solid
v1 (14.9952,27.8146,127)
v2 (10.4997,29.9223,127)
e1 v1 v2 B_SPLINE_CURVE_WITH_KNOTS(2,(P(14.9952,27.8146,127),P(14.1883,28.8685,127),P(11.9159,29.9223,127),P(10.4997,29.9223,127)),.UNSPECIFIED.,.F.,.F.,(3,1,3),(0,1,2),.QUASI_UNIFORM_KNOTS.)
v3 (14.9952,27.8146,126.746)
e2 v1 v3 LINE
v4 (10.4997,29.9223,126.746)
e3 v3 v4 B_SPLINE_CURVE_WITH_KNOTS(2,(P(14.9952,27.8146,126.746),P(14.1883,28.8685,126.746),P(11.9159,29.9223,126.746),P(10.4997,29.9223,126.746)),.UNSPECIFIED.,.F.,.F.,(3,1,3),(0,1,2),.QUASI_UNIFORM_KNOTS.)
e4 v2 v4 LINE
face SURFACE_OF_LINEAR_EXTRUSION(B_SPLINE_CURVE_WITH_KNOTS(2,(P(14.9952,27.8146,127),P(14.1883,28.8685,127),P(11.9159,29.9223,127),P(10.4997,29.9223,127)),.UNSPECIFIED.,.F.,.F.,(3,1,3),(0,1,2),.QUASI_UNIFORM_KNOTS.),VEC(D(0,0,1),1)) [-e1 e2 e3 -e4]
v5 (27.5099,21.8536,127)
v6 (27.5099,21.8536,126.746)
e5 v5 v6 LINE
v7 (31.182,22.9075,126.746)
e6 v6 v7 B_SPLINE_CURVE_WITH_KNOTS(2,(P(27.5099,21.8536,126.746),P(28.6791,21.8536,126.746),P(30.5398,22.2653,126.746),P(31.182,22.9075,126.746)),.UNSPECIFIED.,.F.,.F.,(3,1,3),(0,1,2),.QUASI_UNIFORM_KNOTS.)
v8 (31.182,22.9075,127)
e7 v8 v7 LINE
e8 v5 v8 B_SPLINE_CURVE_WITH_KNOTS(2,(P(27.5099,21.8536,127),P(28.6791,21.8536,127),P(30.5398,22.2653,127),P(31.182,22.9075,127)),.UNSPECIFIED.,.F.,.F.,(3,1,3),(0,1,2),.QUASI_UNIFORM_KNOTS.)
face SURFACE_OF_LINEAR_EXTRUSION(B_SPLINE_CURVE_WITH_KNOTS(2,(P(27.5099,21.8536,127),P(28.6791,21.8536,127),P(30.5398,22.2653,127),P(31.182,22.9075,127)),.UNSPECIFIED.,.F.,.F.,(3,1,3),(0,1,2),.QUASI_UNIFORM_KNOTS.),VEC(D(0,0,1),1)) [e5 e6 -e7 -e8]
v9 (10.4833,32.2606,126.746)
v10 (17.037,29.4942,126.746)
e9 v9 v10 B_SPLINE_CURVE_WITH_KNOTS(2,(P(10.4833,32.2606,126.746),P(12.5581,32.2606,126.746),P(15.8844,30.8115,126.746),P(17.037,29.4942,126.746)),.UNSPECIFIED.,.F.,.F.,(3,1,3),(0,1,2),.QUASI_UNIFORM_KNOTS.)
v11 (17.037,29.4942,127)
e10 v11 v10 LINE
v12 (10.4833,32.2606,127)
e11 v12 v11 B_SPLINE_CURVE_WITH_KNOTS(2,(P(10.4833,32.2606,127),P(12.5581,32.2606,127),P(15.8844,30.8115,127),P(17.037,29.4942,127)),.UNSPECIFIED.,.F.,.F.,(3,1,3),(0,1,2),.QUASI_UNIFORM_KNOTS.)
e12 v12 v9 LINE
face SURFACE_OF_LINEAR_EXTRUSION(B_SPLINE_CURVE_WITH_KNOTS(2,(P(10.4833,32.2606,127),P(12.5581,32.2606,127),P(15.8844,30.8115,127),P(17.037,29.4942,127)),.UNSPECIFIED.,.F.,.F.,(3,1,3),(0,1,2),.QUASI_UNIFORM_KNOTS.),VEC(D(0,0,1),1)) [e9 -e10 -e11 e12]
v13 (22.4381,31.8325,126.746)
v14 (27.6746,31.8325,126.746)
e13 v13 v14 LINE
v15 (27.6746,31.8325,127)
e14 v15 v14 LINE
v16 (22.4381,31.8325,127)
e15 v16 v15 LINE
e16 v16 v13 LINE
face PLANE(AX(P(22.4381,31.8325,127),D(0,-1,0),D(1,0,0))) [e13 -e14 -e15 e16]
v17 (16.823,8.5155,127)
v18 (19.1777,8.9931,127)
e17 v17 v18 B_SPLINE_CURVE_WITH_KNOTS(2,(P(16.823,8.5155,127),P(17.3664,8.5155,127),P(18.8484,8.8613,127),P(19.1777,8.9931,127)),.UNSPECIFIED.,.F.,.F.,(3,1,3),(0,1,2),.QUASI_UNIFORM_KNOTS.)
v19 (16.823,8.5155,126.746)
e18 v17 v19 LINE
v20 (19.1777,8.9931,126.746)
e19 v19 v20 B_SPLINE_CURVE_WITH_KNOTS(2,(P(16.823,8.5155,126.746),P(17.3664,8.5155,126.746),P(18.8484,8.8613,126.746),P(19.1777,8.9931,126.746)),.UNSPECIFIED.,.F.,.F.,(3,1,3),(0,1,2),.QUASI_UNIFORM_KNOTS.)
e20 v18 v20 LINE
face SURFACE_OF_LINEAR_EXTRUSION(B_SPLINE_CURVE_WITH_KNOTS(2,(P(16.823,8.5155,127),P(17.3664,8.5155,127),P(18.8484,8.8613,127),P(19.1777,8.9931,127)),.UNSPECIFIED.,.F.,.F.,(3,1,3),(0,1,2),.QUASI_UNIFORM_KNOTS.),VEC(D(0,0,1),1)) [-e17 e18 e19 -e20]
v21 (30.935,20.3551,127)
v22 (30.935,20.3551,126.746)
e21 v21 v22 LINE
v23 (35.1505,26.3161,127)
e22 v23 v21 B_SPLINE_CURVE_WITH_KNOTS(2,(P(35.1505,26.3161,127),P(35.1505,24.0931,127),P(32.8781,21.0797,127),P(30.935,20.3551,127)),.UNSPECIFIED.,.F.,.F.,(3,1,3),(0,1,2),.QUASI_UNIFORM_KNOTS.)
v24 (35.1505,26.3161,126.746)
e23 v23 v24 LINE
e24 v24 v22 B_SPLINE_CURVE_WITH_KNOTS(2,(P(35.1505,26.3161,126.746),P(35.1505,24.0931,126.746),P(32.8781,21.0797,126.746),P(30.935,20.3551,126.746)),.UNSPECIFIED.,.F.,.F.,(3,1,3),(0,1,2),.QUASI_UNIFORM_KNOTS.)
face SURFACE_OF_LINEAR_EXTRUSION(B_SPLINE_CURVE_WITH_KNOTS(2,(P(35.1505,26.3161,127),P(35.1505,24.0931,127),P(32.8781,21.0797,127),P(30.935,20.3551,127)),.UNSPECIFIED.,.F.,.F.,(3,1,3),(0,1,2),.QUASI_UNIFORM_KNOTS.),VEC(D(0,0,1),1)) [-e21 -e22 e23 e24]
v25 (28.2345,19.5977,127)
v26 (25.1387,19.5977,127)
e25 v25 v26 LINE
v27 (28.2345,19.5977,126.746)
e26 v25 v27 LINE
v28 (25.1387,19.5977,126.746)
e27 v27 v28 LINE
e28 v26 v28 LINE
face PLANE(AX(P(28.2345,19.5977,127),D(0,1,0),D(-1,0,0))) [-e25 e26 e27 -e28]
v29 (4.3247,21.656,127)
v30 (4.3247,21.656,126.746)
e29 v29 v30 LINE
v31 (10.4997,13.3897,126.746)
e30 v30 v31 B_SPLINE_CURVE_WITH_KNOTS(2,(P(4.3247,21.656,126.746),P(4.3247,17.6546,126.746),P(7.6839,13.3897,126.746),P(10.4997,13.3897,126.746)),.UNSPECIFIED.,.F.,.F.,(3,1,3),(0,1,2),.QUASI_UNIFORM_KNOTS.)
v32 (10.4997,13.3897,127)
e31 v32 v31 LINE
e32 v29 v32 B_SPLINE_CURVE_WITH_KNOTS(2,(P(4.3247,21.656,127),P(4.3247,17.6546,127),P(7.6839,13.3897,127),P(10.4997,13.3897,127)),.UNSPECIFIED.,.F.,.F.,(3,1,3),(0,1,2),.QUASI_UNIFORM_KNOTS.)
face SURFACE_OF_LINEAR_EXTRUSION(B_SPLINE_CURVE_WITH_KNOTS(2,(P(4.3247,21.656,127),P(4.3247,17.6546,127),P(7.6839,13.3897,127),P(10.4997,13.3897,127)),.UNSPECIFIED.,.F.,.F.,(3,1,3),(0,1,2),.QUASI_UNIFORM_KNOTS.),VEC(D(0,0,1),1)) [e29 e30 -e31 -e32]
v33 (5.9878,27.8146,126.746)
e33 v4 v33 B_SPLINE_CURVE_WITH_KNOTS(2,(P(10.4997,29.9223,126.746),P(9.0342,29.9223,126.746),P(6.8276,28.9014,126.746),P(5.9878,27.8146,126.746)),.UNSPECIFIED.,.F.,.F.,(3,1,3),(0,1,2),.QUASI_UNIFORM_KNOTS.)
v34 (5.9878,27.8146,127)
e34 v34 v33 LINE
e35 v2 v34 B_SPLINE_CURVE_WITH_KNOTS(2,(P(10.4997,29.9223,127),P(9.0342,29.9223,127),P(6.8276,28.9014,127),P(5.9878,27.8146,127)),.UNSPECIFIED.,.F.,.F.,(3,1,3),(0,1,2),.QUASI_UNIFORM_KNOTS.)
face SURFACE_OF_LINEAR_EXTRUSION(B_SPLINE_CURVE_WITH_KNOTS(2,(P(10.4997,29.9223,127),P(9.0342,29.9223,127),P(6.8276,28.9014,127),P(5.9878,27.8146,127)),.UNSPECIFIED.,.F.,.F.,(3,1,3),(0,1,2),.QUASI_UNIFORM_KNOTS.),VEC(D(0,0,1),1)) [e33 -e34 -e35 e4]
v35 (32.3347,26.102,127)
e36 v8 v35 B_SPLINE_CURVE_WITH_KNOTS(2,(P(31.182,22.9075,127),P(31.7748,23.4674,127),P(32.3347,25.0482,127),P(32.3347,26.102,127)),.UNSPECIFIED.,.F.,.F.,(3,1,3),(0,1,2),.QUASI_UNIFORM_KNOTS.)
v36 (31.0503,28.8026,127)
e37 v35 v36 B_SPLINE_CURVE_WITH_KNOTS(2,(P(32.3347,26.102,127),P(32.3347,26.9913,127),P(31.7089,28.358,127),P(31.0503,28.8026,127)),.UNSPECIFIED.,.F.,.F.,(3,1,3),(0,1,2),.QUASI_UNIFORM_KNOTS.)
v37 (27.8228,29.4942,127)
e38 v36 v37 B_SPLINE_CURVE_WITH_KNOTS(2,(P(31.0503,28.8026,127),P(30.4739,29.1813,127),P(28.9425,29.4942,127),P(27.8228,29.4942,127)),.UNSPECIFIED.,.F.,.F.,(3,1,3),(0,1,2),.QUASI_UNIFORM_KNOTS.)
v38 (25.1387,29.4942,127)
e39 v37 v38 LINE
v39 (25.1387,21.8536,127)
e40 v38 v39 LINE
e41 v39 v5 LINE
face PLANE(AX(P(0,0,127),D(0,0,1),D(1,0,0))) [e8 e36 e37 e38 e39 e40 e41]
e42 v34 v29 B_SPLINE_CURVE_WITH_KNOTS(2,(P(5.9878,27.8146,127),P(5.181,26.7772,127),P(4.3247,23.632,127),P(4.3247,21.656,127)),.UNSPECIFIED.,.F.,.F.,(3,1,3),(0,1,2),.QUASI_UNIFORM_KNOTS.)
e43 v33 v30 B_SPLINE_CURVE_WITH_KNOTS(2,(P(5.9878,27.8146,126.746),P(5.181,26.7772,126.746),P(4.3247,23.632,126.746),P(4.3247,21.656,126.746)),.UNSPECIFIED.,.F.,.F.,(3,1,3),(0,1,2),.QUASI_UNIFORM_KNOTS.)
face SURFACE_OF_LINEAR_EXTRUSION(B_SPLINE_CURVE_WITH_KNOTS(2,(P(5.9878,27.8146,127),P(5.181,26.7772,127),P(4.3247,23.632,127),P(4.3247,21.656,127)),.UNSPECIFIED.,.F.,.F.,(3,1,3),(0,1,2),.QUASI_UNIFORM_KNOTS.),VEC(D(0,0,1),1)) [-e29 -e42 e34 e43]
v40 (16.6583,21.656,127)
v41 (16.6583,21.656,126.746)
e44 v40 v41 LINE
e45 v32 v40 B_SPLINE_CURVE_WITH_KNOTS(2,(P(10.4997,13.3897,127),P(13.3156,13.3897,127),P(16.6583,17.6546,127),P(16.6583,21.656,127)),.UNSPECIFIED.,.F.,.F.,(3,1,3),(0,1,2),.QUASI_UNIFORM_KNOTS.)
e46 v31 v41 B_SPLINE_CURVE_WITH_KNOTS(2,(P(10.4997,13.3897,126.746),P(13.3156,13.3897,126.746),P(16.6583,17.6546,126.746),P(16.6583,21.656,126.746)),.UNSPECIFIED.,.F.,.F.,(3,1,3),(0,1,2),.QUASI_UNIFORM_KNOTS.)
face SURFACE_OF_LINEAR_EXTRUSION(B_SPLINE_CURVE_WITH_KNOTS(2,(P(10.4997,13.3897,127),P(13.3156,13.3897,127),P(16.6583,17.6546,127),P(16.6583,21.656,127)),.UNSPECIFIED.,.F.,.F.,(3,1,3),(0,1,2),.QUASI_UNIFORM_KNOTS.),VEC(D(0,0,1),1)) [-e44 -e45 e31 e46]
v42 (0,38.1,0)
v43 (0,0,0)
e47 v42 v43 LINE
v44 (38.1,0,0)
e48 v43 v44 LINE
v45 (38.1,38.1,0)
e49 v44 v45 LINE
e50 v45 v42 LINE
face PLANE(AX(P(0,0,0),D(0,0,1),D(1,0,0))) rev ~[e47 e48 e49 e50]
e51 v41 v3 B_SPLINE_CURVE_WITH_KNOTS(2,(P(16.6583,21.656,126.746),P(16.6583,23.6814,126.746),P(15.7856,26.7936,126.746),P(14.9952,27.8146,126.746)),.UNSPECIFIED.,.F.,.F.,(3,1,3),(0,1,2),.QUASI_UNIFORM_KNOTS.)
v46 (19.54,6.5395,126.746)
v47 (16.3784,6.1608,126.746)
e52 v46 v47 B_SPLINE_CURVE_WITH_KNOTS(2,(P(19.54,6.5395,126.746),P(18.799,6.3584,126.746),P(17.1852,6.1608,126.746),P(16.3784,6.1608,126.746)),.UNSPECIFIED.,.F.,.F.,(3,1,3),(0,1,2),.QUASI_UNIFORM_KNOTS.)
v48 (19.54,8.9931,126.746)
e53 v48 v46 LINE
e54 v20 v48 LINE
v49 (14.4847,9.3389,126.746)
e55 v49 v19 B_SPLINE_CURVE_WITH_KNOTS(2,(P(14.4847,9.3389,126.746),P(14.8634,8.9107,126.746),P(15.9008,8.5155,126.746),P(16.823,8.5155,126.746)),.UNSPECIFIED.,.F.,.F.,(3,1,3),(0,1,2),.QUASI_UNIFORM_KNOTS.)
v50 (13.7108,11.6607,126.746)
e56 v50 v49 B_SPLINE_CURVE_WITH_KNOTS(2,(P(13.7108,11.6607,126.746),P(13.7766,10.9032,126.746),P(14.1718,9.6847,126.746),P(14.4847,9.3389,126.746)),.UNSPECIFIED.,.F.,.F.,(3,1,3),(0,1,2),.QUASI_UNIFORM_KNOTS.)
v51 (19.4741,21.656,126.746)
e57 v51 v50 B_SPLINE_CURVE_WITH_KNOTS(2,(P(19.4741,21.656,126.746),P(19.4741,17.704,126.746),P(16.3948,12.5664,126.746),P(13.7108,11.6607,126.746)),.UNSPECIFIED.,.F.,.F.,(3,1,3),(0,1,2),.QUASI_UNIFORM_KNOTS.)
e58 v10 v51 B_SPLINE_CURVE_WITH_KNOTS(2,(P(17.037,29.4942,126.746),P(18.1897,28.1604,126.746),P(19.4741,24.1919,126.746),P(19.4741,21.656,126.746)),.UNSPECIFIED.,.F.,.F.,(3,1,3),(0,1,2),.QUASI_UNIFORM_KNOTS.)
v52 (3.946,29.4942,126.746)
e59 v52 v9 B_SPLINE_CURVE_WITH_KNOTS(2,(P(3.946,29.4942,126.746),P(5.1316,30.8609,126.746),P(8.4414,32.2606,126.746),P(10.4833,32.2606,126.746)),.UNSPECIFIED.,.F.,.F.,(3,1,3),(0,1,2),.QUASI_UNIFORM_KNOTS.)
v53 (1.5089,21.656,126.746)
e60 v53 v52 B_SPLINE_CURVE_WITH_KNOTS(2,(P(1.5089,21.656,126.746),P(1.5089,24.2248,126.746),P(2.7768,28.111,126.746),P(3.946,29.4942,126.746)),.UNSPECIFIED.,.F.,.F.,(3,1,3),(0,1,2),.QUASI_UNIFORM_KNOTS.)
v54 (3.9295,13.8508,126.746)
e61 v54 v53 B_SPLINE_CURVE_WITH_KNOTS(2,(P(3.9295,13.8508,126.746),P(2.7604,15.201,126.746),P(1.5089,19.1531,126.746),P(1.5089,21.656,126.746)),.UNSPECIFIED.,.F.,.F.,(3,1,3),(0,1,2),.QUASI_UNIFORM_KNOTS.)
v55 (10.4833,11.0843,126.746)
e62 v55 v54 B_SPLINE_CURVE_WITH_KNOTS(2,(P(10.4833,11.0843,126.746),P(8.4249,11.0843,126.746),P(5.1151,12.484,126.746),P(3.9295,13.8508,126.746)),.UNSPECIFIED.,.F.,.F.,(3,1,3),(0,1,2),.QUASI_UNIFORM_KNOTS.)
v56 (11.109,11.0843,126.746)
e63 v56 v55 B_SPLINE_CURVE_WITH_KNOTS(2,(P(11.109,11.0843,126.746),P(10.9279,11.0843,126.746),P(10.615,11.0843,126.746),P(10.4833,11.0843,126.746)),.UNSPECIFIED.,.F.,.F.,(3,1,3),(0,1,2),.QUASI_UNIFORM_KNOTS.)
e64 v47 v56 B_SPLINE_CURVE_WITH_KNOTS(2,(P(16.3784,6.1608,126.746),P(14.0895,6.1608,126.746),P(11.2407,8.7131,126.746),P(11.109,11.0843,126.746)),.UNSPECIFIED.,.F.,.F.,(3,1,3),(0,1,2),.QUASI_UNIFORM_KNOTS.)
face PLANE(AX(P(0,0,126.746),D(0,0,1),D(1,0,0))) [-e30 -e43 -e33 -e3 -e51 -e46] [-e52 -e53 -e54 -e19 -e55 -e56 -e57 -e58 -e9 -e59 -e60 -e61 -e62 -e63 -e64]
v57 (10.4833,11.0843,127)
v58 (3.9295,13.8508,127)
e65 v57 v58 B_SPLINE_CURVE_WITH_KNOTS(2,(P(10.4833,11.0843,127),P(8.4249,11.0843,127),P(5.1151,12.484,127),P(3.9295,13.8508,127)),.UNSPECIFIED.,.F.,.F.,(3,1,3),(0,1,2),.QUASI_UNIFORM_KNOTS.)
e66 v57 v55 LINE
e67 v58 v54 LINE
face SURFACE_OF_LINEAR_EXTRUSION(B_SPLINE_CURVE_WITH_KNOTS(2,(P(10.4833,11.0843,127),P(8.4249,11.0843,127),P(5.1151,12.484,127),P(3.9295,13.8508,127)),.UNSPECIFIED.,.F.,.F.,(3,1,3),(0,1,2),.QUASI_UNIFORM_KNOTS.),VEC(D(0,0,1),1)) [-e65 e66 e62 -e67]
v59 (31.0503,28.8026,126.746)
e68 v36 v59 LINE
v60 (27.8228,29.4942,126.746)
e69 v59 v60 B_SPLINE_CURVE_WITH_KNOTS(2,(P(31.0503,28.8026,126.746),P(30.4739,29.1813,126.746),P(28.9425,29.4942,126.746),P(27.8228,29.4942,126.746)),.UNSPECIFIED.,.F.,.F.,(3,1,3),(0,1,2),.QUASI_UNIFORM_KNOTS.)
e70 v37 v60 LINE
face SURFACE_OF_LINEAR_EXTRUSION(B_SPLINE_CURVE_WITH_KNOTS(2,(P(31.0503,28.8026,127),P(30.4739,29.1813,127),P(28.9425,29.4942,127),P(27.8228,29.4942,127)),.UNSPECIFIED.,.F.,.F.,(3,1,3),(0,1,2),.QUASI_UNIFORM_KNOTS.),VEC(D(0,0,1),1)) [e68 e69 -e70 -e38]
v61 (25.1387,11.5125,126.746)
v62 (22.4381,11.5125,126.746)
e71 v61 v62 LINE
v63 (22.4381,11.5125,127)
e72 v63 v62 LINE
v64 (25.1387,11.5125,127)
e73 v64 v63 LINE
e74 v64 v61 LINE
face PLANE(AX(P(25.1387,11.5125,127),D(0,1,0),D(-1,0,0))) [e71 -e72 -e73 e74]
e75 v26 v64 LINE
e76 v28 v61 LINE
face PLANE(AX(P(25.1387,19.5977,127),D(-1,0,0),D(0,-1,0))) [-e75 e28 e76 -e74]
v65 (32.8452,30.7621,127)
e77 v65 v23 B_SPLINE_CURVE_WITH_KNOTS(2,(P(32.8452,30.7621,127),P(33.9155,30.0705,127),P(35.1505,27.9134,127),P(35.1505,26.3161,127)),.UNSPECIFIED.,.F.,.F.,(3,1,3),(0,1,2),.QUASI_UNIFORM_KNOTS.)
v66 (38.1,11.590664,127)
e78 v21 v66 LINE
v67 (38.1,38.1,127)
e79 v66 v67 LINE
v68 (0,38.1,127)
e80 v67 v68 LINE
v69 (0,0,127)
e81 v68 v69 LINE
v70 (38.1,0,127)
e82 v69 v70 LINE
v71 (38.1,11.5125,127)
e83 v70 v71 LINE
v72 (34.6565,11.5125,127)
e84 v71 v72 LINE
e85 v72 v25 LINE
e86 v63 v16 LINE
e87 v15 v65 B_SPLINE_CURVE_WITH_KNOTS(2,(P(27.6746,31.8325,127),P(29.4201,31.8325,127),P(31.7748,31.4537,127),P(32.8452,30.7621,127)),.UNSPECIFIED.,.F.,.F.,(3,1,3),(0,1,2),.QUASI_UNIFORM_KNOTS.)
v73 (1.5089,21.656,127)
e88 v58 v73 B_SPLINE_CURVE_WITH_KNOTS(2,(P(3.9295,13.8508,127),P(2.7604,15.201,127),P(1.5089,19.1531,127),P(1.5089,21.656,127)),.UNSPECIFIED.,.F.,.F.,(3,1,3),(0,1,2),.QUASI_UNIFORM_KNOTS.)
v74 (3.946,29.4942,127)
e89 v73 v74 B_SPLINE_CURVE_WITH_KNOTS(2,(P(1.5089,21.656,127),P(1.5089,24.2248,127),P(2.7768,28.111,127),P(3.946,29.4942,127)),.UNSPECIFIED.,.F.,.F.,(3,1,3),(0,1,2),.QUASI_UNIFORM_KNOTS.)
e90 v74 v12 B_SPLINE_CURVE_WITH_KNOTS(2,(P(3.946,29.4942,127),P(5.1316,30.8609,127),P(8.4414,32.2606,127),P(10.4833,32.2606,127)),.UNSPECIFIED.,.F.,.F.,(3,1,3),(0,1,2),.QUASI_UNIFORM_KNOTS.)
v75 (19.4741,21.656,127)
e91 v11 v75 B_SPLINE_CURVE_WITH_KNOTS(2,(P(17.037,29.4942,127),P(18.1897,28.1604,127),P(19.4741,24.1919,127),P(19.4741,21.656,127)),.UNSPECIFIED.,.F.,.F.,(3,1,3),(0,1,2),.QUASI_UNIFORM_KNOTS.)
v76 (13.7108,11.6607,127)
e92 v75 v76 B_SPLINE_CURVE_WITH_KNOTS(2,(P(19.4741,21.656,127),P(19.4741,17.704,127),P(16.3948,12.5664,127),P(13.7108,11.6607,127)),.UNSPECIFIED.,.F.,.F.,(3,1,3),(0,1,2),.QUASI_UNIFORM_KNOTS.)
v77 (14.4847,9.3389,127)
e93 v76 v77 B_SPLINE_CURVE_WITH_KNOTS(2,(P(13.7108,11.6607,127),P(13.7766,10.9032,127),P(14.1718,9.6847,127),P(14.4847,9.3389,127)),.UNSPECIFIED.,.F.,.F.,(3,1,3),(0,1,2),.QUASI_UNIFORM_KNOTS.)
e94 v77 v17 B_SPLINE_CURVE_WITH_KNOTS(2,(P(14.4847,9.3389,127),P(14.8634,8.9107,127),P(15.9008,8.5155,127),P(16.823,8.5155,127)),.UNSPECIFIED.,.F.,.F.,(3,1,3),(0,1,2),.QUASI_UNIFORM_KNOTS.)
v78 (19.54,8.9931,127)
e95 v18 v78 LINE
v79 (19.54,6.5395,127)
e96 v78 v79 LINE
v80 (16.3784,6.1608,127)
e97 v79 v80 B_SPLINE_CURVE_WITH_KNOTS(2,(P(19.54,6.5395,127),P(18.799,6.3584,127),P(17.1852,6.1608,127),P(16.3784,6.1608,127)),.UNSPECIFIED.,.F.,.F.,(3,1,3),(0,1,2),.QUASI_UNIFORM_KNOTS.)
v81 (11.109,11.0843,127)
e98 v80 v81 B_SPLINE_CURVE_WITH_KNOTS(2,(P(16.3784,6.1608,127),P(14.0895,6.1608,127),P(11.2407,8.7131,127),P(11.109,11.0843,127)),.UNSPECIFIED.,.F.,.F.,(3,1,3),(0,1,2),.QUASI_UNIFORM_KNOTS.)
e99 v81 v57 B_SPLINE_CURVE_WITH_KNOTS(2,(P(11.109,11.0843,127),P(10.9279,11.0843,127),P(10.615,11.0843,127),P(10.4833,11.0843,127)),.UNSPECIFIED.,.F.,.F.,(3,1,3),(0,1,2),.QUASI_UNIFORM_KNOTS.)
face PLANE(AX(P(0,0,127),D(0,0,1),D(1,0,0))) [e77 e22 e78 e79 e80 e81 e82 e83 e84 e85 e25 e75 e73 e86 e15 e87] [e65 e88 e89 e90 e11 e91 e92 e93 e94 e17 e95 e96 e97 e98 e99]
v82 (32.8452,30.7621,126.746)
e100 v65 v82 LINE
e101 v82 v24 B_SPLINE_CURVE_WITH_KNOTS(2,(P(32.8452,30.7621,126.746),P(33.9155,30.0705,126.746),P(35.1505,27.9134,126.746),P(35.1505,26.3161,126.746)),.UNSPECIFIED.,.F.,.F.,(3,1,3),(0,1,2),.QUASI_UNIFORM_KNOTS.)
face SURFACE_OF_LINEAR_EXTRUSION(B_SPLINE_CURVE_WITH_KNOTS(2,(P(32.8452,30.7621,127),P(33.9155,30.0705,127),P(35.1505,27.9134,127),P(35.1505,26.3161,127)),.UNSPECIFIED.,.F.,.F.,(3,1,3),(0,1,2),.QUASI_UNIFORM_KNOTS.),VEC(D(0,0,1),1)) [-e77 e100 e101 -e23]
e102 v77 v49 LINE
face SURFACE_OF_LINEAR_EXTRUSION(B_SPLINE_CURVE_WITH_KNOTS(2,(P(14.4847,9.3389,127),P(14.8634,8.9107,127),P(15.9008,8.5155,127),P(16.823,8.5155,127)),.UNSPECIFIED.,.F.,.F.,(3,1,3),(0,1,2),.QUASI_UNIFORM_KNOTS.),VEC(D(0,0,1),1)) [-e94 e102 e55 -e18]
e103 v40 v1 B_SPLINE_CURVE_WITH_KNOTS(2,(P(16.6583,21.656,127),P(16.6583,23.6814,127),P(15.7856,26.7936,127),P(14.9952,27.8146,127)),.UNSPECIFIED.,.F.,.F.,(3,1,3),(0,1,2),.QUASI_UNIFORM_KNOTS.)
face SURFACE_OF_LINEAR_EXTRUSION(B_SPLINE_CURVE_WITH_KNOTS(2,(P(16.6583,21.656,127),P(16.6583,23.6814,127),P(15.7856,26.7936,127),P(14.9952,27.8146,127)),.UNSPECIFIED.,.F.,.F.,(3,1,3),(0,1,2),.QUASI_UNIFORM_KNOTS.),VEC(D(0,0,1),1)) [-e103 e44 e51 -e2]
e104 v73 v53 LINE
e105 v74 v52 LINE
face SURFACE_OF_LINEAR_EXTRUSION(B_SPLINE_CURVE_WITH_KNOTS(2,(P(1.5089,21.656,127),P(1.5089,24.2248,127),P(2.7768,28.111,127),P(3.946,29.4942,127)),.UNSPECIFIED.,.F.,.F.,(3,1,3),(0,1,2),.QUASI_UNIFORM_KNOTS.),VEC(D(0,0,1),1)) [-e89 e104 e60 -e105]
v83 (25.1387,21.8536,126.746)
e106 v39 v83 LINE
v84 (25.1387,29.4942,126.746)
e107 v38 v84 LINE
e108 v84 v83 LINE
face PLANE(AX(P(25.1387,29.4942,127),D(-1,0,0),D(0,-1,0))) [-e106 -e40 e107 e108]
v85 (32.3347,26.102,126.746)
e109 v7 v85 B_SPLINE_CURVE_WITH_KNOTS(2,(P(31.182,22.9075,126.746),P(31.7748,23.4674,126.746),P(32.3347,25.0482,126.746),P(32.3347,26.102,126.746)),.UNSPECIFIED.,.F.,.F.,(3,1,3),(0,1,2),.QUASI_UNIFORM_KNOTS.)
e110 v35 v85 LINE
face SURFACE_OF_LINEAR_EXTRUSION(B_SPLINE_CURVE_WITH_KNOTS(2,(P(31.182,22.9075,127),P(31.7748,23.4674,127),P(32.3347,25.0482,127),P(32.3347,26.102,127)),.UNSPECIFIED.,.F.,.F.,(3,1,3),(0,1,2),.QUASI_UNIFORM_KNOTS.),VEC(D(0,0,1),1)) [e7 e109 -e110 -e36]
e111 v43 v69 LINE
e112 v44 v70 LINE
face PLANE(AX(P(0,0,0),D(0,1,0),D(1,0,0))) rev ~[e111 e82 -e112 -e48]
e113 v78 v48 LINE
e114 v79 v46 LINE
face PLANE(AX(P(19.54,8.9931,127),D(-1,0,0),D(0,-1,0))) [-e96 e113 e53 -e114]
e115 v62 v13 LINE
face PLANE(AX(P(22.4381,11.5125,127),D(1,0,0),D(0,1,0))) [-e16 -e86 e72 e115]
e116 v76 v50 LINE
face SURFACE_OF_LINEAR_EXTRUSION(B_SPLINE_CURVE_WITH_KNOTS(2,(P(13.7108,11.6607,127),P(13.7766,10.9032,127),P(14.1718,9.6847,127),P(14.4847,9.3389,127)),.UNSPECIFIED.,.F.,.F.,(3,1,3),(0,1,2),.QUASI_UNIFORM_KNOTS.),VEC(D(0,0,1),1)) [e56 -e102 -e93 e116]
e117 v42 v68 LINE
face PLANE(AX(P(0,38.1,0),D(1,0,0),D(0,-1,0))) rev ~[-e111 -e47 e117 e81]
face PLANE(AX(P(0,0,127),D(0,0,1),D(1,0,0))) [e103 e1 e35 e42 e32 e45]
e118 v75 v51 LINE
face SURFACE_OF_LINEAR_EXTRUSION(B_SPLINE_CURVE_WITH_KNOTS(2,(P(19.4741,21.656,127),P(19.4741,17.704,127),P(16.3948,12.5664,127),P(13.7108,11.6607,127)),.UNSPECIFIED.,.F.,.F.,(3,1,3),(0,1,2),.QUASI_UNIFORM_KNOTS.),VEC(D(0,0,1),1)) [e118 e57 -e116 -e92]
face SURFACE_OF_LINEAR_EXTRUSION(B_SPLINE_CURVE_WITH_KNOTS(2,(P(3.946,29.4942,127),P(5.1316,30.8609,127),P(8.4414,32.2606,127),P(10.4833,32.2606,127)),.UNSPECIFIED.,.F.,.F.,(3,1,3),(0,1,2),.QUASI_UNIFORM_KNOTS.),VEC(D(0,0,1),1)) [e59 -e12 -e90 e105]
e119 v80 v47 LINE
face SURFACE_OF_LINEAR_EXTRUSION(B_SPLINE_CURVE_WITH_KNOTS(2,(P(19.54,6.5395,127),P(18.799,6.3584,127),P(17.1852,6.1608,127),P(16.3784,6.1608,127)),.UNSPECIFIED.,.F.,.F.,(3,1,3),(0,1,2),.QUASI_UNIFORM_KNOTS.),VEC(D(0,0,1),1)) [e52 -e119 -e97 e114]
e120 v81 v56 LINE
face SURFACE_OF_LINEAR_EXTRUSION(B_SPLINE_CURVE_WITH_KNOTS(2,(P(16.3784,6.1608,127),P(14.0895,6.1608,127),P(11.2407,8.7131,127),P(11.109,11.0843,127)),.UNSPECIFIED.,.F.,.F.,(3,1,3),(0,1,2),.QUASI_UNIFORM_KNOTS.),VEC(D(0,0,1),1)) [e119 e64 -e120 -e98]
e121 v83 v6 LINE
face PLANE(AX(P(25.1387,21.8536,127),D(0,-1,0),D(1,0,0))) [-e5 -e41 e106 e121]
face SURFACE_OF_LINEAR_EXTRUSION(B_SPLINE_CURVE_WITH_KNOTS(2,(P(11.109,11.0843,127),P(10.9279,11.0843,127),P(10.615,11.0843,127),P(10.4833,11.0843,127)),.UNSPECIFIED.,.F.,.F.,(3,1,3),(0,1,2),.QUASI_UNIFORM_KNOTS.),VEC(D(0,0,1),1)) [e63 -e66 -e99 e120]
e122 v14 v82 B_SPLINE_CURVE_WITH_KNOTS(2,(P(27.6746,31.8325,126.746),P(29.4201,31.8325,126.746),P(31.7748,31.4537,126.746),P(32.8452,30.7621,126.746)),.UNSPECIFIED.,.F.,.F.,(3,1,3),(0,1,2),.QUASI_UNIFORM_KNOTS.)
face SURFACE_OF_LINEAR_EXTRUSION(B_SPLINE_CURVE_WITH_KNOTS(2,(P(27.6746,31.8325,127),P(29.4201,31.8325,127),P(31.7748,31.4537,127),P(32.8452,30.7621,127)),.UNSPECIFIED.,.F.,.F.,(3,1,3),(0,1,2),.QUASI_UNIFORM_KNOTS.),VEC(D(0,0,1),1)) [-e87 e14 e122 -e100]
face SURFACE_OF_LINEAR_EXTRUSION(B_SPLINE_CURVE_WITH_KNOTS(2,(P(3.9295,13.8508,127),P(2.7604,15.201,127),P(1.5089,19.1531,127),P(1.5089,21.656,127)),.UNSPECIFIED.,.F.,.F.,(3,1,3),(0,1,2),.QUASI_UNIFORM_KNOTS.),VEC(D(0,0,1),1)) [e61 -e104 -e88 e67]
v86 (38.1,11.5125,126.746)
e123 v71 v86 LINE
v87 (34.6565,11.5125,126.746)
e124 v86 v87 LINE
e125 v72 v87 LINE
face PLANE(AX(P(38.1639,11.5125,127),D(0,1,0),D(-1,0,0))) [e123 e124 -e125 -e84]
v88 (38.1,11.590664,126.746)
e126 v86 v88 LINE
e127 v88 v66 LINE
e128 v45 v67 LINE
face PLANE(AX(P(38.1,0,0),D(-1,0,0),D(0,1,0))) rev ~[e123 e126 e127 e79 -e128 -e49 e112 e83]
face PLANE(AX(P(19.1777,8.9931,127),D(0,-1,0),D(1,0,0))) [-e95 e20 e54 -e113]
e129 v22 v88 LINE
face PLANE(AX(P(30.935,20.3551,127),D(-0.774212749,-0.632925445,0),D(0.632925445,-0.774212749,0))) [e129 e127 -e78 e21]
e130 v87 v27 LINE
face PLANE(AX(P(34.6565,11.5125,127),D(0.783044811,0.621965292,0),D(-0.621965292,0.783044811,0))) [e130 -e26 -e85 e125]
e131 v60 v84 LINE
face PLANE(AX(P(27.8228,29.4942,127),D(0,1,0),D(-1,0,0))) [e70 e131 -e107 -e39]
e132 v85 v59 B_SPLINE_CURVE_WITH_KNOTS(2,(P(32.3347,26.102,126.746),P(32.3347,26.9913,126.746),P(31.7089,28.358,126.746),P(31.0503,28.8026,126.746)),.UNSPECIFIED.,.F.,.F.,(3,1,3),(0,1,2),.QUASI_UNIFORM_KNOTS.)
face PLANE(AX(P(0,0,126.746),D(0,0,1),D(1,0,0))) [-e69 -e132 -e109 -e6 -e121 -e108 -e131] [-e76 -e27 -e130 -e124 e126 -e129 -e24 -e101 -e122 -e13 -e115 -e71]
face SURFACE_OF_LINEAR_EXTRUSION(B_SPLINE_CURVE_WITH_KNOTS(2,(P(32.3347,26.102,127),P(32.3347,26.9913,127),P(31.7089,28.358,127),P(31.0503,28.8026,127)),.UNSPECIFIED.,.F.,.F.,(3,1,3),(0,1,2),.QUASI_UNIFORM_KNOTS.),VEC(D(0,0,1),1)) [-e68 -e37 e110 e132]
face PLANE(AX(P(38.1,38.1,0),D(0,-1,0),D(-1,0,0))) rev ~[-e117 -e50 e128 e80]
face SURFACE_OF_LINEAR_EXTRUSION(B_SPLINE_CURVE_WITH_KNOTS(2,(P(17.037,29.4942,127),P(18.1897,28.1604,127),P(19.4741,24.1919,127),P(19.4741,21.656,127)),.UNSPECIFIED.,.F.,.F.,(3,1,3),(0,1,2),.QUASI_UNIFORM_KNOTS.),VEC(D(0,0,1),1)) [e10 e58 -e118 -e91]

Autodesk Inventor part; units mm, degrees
ref_plane "YZ Plane" through (0, 0, 0) normal (1, 0, 0) x (0, 1, 0)
ref_plane "XZ Plane" through (0, 0, 0) normal (0, 1, 0) x (-1, 0, 0)
ref_plane "XY Plane" through (0, 0, 0) normal (0, 0, 1) x (1, 0, 0)
sketch "Sketch1" plane through (0, 0, 0) normal (0, 0, 1) x (1, 0, 0)
  line L0 (0, 0) -> (38.1, 0)
  line L1 (38.1, 0) -> (38.1, 38.1)
  line L2 (38.1, 38.1) -> (0, 38.1)
  line L3 (0, 38.1) -> (0, 0)
  dimension "d0" = 38.1
  dimension "d1" = 38.1
extrude "Extrusion1" add sketch "Sketch1" along normal blind 127
sketch "Sketch2" plane through (0, 0, 127) normal (0, 0, 1) x (1, 0, 0)
  line L0 (0.6032, 32.2606) -> (46.9983, 32.2606) construction
  line L1 (46.9983, 32.2606) -> (46.9983, -9.6319) construction
  line L2 (46.9983, -9.6319) -> (0.6032, -9.6319) construction
  line L3 (0.6032, -9.6319) -> (0.6032, 32.2606) construction
  spline S0 degree 2 poles (19.54, 6.5395) (18.799, 6.3584) (17.1852, 6.1608) (16.3784, 6.1608) knots 0 0 0 1 2 2 2
  spline S1 degree 2 poles (16.3784, 6.1608) (14.0895, 6.1608) (11.2407, 8.7131) (11.109, 11.0843) knots 0 0 0 1 2 2 2
  spline S2 degree 2 poles (11.109, 11.0843) (10.9279, 11.0843) (10.615, 11.0843) (10.4833, 11.0843) knots 0 0 0 1 2 2 2
  spline S3 degree 2 poles (10.4833, 11.0843) (8.4249, 11.0843) (5.1151, 12.484) (3.9295, 13.8508) knots 0 0 0 1 2 2 2
  spline S4 degree 2 poles (3.9295, 13.8508) (2.7604, 15.201) (1.5089, 19.1531) (1.5089, 21.656) knots 0 0 0 1 2 2 2
  spline S5 degree 2 poles (1.5089, 21.656) (1.5089, 24.2248) (2.7768, 28.111) (3.946, 29.4942) knots 0 0 0 1 2 2 2
  spline S6 degree 2 poles (3.946, 29.4942) (5.1316, 30.8609) (8.4414, 32.2606) (10.4833, 32.2606) knots 0 0 0 1 2 2 2
  spline S7 degree 2 poles (10.4833, 32.2606) (12.5581, 32.2606) (15.8844, 30.8115) (17.037, 29.4942) knots 0 0 0 1 2 2 2
  spline S8 degree 2 poles (17.037, 29.4942) (18.1897, 28.1604) (19.4741, 24.1919) (19.4741, 21.656) knots 0 0 0 1 2 2 2
  spline S9 degree 2 poles (19.4741, 21.656) (19.4741, 17.704) (16.3948, 12.5664) (13.7108, 11.6607) knots 0 0 0 1 2 2 2
  spline S10 degree 2 poles (13.7108, 11.6607) (13.7766, 10.9032) (14.1718, 9.6847) (14.4847, 9.3389) knots 0 0 0 1 2 2 2
  spline S11 degree 2 poles (14.4847, 9.3389) (14.8634, 8.9107) (15.9008, 8.5155) (16.823, 8.5155) knots 0 0 0 1 2 2 2
  spline S12 degree 2 poles (16.823, 8.5155) (17.3664, 8.5155) (18.8484, 8.8613) (19.1777, 8.9931) knots 0 0 0 1 2 2 2
  line L4 (19.1777, 8.9931) -> (19.54, 8.9931)
  line L5 (19.54, 8.9931) -> (19.54, 6.5395)
  spline S13 degree 2 poles (16.6583, 21.656) (16.6583, 23.6814) (15.7856, 26.7936) (14.9952, 27.8146) knots 0 0 0 1 2 2 2
  spline S14 degree 2 poles (14.9952, 27.8146) (14.1883, 28.8685) (11.9159, 29.9223) (10.4997, 29.9223) knots 0 0 0 1 2 2 2
  spline S15 degree 2 poles (10.4997, 29.9223) (9.0342, 29.9223) (6.8276, 28.9014) (5.9878, 27.8146) knots 0 0 0 1 2 2 2
  spline S16 degree 2 poles (5.9878, 27.8146) (5.181, 26.7772) (4.3247, 23.632) (4.3247, 21.656) knots 0 0 0 1 2 2 2
  spline S17 degree 2 poles (4.3247, 21.656) (4.3247, 17.6546) (7.6839, 13.3897) (10.4997, 13.3897) knots 0 0 0 1 2 2 2
  spline S18 degree 2 poles (10.4997, 13.3897) (13.3156, 13.3897) (16.6583, 17.6546) (16.6583, 21.656) knots 0 0 0 1 2 2 2
  line L6 (38.1639, 11.5125) -> (34.6565, 11.5125)
  line L7 (34.6565, 11.5125) -> (28.2345, 19.5977)
  line L8 (28.2345, 19.5977) -> (25.1387, 19.5977)
  line L9 (25.1387, 19.5977) -> (25.1387, 11.5125)
  line L10 (25.1387, 11.5125) -> (22.4381, 11.5125)
  line L11 (22.4381, 11.5125) -> (22.4381, 31.8325)
  line L12 (22.4381, 31.8325) -> (27.6746, 31.8325)
  spline S19 degree 2 poles (27.6746, 31.8325) (29.4201, 31.8325) (31.7748, 31.4537) (32.8452, 30.7621) knots 0 0 0 1 2 2 2
  spline S20 degree 2 poles (32.8452, 30.7621) (33.9155, 30.0705) (35.1505, 27.9134) (35.1505, 26.3161) knots 0 0 0 1 2 2 2
  spline S21 degree 2 poles (35.1505, 26.3161) (35.1505, 24.0931) (32.8781, 21.0797) (30.935, 20.3551) knots 0 0 0 1 2 2 2
  line L13 (30.935, 20.3551) -> (38.1639, 11.5125)
  spline S22 degree 2 poles (32.3347, 26.102) (32.3347, 26.9913) (31.7089, 28.358) (31.0503, 28.8026) knots 0 0 0 1 2 2 2
  spline S23 degree 2 poles (31.0503, 28.8026) (30.4739, 29.1813) (28.9425, 29.4942) (27.8228, 29.4942) knots 0 0 0 1 2 2 2
  line L14 (27.8228, 29.4942) -> (25.1387, 29.4942)
  line L15 (25.1387, 29.4942) -> (25.1387, 21.8536)
  line L16 (25.1387, 21.8536) -> (27.5099, 21.8536)
  spline S24 degree 2 poles (27.5099, 21.8536) (28.6791, 21.8536) (30.5398, 22.2653) (31.182, 22.9075) knots 0 0 0 1 2 2 2
  spline S25 degree 2 poles (31.182, 22.9075) (31.7748, 23.4674) (32.3347, 25.0482) (32.3347, 26.102) knots 0 0 0 1 2 2 2
  point P0 (0, 0)
extrude "Extrusion3" cut sketch "Sketch2" against normal blind 0.254
properties part number "Container 2 2 5 colored color 2"
